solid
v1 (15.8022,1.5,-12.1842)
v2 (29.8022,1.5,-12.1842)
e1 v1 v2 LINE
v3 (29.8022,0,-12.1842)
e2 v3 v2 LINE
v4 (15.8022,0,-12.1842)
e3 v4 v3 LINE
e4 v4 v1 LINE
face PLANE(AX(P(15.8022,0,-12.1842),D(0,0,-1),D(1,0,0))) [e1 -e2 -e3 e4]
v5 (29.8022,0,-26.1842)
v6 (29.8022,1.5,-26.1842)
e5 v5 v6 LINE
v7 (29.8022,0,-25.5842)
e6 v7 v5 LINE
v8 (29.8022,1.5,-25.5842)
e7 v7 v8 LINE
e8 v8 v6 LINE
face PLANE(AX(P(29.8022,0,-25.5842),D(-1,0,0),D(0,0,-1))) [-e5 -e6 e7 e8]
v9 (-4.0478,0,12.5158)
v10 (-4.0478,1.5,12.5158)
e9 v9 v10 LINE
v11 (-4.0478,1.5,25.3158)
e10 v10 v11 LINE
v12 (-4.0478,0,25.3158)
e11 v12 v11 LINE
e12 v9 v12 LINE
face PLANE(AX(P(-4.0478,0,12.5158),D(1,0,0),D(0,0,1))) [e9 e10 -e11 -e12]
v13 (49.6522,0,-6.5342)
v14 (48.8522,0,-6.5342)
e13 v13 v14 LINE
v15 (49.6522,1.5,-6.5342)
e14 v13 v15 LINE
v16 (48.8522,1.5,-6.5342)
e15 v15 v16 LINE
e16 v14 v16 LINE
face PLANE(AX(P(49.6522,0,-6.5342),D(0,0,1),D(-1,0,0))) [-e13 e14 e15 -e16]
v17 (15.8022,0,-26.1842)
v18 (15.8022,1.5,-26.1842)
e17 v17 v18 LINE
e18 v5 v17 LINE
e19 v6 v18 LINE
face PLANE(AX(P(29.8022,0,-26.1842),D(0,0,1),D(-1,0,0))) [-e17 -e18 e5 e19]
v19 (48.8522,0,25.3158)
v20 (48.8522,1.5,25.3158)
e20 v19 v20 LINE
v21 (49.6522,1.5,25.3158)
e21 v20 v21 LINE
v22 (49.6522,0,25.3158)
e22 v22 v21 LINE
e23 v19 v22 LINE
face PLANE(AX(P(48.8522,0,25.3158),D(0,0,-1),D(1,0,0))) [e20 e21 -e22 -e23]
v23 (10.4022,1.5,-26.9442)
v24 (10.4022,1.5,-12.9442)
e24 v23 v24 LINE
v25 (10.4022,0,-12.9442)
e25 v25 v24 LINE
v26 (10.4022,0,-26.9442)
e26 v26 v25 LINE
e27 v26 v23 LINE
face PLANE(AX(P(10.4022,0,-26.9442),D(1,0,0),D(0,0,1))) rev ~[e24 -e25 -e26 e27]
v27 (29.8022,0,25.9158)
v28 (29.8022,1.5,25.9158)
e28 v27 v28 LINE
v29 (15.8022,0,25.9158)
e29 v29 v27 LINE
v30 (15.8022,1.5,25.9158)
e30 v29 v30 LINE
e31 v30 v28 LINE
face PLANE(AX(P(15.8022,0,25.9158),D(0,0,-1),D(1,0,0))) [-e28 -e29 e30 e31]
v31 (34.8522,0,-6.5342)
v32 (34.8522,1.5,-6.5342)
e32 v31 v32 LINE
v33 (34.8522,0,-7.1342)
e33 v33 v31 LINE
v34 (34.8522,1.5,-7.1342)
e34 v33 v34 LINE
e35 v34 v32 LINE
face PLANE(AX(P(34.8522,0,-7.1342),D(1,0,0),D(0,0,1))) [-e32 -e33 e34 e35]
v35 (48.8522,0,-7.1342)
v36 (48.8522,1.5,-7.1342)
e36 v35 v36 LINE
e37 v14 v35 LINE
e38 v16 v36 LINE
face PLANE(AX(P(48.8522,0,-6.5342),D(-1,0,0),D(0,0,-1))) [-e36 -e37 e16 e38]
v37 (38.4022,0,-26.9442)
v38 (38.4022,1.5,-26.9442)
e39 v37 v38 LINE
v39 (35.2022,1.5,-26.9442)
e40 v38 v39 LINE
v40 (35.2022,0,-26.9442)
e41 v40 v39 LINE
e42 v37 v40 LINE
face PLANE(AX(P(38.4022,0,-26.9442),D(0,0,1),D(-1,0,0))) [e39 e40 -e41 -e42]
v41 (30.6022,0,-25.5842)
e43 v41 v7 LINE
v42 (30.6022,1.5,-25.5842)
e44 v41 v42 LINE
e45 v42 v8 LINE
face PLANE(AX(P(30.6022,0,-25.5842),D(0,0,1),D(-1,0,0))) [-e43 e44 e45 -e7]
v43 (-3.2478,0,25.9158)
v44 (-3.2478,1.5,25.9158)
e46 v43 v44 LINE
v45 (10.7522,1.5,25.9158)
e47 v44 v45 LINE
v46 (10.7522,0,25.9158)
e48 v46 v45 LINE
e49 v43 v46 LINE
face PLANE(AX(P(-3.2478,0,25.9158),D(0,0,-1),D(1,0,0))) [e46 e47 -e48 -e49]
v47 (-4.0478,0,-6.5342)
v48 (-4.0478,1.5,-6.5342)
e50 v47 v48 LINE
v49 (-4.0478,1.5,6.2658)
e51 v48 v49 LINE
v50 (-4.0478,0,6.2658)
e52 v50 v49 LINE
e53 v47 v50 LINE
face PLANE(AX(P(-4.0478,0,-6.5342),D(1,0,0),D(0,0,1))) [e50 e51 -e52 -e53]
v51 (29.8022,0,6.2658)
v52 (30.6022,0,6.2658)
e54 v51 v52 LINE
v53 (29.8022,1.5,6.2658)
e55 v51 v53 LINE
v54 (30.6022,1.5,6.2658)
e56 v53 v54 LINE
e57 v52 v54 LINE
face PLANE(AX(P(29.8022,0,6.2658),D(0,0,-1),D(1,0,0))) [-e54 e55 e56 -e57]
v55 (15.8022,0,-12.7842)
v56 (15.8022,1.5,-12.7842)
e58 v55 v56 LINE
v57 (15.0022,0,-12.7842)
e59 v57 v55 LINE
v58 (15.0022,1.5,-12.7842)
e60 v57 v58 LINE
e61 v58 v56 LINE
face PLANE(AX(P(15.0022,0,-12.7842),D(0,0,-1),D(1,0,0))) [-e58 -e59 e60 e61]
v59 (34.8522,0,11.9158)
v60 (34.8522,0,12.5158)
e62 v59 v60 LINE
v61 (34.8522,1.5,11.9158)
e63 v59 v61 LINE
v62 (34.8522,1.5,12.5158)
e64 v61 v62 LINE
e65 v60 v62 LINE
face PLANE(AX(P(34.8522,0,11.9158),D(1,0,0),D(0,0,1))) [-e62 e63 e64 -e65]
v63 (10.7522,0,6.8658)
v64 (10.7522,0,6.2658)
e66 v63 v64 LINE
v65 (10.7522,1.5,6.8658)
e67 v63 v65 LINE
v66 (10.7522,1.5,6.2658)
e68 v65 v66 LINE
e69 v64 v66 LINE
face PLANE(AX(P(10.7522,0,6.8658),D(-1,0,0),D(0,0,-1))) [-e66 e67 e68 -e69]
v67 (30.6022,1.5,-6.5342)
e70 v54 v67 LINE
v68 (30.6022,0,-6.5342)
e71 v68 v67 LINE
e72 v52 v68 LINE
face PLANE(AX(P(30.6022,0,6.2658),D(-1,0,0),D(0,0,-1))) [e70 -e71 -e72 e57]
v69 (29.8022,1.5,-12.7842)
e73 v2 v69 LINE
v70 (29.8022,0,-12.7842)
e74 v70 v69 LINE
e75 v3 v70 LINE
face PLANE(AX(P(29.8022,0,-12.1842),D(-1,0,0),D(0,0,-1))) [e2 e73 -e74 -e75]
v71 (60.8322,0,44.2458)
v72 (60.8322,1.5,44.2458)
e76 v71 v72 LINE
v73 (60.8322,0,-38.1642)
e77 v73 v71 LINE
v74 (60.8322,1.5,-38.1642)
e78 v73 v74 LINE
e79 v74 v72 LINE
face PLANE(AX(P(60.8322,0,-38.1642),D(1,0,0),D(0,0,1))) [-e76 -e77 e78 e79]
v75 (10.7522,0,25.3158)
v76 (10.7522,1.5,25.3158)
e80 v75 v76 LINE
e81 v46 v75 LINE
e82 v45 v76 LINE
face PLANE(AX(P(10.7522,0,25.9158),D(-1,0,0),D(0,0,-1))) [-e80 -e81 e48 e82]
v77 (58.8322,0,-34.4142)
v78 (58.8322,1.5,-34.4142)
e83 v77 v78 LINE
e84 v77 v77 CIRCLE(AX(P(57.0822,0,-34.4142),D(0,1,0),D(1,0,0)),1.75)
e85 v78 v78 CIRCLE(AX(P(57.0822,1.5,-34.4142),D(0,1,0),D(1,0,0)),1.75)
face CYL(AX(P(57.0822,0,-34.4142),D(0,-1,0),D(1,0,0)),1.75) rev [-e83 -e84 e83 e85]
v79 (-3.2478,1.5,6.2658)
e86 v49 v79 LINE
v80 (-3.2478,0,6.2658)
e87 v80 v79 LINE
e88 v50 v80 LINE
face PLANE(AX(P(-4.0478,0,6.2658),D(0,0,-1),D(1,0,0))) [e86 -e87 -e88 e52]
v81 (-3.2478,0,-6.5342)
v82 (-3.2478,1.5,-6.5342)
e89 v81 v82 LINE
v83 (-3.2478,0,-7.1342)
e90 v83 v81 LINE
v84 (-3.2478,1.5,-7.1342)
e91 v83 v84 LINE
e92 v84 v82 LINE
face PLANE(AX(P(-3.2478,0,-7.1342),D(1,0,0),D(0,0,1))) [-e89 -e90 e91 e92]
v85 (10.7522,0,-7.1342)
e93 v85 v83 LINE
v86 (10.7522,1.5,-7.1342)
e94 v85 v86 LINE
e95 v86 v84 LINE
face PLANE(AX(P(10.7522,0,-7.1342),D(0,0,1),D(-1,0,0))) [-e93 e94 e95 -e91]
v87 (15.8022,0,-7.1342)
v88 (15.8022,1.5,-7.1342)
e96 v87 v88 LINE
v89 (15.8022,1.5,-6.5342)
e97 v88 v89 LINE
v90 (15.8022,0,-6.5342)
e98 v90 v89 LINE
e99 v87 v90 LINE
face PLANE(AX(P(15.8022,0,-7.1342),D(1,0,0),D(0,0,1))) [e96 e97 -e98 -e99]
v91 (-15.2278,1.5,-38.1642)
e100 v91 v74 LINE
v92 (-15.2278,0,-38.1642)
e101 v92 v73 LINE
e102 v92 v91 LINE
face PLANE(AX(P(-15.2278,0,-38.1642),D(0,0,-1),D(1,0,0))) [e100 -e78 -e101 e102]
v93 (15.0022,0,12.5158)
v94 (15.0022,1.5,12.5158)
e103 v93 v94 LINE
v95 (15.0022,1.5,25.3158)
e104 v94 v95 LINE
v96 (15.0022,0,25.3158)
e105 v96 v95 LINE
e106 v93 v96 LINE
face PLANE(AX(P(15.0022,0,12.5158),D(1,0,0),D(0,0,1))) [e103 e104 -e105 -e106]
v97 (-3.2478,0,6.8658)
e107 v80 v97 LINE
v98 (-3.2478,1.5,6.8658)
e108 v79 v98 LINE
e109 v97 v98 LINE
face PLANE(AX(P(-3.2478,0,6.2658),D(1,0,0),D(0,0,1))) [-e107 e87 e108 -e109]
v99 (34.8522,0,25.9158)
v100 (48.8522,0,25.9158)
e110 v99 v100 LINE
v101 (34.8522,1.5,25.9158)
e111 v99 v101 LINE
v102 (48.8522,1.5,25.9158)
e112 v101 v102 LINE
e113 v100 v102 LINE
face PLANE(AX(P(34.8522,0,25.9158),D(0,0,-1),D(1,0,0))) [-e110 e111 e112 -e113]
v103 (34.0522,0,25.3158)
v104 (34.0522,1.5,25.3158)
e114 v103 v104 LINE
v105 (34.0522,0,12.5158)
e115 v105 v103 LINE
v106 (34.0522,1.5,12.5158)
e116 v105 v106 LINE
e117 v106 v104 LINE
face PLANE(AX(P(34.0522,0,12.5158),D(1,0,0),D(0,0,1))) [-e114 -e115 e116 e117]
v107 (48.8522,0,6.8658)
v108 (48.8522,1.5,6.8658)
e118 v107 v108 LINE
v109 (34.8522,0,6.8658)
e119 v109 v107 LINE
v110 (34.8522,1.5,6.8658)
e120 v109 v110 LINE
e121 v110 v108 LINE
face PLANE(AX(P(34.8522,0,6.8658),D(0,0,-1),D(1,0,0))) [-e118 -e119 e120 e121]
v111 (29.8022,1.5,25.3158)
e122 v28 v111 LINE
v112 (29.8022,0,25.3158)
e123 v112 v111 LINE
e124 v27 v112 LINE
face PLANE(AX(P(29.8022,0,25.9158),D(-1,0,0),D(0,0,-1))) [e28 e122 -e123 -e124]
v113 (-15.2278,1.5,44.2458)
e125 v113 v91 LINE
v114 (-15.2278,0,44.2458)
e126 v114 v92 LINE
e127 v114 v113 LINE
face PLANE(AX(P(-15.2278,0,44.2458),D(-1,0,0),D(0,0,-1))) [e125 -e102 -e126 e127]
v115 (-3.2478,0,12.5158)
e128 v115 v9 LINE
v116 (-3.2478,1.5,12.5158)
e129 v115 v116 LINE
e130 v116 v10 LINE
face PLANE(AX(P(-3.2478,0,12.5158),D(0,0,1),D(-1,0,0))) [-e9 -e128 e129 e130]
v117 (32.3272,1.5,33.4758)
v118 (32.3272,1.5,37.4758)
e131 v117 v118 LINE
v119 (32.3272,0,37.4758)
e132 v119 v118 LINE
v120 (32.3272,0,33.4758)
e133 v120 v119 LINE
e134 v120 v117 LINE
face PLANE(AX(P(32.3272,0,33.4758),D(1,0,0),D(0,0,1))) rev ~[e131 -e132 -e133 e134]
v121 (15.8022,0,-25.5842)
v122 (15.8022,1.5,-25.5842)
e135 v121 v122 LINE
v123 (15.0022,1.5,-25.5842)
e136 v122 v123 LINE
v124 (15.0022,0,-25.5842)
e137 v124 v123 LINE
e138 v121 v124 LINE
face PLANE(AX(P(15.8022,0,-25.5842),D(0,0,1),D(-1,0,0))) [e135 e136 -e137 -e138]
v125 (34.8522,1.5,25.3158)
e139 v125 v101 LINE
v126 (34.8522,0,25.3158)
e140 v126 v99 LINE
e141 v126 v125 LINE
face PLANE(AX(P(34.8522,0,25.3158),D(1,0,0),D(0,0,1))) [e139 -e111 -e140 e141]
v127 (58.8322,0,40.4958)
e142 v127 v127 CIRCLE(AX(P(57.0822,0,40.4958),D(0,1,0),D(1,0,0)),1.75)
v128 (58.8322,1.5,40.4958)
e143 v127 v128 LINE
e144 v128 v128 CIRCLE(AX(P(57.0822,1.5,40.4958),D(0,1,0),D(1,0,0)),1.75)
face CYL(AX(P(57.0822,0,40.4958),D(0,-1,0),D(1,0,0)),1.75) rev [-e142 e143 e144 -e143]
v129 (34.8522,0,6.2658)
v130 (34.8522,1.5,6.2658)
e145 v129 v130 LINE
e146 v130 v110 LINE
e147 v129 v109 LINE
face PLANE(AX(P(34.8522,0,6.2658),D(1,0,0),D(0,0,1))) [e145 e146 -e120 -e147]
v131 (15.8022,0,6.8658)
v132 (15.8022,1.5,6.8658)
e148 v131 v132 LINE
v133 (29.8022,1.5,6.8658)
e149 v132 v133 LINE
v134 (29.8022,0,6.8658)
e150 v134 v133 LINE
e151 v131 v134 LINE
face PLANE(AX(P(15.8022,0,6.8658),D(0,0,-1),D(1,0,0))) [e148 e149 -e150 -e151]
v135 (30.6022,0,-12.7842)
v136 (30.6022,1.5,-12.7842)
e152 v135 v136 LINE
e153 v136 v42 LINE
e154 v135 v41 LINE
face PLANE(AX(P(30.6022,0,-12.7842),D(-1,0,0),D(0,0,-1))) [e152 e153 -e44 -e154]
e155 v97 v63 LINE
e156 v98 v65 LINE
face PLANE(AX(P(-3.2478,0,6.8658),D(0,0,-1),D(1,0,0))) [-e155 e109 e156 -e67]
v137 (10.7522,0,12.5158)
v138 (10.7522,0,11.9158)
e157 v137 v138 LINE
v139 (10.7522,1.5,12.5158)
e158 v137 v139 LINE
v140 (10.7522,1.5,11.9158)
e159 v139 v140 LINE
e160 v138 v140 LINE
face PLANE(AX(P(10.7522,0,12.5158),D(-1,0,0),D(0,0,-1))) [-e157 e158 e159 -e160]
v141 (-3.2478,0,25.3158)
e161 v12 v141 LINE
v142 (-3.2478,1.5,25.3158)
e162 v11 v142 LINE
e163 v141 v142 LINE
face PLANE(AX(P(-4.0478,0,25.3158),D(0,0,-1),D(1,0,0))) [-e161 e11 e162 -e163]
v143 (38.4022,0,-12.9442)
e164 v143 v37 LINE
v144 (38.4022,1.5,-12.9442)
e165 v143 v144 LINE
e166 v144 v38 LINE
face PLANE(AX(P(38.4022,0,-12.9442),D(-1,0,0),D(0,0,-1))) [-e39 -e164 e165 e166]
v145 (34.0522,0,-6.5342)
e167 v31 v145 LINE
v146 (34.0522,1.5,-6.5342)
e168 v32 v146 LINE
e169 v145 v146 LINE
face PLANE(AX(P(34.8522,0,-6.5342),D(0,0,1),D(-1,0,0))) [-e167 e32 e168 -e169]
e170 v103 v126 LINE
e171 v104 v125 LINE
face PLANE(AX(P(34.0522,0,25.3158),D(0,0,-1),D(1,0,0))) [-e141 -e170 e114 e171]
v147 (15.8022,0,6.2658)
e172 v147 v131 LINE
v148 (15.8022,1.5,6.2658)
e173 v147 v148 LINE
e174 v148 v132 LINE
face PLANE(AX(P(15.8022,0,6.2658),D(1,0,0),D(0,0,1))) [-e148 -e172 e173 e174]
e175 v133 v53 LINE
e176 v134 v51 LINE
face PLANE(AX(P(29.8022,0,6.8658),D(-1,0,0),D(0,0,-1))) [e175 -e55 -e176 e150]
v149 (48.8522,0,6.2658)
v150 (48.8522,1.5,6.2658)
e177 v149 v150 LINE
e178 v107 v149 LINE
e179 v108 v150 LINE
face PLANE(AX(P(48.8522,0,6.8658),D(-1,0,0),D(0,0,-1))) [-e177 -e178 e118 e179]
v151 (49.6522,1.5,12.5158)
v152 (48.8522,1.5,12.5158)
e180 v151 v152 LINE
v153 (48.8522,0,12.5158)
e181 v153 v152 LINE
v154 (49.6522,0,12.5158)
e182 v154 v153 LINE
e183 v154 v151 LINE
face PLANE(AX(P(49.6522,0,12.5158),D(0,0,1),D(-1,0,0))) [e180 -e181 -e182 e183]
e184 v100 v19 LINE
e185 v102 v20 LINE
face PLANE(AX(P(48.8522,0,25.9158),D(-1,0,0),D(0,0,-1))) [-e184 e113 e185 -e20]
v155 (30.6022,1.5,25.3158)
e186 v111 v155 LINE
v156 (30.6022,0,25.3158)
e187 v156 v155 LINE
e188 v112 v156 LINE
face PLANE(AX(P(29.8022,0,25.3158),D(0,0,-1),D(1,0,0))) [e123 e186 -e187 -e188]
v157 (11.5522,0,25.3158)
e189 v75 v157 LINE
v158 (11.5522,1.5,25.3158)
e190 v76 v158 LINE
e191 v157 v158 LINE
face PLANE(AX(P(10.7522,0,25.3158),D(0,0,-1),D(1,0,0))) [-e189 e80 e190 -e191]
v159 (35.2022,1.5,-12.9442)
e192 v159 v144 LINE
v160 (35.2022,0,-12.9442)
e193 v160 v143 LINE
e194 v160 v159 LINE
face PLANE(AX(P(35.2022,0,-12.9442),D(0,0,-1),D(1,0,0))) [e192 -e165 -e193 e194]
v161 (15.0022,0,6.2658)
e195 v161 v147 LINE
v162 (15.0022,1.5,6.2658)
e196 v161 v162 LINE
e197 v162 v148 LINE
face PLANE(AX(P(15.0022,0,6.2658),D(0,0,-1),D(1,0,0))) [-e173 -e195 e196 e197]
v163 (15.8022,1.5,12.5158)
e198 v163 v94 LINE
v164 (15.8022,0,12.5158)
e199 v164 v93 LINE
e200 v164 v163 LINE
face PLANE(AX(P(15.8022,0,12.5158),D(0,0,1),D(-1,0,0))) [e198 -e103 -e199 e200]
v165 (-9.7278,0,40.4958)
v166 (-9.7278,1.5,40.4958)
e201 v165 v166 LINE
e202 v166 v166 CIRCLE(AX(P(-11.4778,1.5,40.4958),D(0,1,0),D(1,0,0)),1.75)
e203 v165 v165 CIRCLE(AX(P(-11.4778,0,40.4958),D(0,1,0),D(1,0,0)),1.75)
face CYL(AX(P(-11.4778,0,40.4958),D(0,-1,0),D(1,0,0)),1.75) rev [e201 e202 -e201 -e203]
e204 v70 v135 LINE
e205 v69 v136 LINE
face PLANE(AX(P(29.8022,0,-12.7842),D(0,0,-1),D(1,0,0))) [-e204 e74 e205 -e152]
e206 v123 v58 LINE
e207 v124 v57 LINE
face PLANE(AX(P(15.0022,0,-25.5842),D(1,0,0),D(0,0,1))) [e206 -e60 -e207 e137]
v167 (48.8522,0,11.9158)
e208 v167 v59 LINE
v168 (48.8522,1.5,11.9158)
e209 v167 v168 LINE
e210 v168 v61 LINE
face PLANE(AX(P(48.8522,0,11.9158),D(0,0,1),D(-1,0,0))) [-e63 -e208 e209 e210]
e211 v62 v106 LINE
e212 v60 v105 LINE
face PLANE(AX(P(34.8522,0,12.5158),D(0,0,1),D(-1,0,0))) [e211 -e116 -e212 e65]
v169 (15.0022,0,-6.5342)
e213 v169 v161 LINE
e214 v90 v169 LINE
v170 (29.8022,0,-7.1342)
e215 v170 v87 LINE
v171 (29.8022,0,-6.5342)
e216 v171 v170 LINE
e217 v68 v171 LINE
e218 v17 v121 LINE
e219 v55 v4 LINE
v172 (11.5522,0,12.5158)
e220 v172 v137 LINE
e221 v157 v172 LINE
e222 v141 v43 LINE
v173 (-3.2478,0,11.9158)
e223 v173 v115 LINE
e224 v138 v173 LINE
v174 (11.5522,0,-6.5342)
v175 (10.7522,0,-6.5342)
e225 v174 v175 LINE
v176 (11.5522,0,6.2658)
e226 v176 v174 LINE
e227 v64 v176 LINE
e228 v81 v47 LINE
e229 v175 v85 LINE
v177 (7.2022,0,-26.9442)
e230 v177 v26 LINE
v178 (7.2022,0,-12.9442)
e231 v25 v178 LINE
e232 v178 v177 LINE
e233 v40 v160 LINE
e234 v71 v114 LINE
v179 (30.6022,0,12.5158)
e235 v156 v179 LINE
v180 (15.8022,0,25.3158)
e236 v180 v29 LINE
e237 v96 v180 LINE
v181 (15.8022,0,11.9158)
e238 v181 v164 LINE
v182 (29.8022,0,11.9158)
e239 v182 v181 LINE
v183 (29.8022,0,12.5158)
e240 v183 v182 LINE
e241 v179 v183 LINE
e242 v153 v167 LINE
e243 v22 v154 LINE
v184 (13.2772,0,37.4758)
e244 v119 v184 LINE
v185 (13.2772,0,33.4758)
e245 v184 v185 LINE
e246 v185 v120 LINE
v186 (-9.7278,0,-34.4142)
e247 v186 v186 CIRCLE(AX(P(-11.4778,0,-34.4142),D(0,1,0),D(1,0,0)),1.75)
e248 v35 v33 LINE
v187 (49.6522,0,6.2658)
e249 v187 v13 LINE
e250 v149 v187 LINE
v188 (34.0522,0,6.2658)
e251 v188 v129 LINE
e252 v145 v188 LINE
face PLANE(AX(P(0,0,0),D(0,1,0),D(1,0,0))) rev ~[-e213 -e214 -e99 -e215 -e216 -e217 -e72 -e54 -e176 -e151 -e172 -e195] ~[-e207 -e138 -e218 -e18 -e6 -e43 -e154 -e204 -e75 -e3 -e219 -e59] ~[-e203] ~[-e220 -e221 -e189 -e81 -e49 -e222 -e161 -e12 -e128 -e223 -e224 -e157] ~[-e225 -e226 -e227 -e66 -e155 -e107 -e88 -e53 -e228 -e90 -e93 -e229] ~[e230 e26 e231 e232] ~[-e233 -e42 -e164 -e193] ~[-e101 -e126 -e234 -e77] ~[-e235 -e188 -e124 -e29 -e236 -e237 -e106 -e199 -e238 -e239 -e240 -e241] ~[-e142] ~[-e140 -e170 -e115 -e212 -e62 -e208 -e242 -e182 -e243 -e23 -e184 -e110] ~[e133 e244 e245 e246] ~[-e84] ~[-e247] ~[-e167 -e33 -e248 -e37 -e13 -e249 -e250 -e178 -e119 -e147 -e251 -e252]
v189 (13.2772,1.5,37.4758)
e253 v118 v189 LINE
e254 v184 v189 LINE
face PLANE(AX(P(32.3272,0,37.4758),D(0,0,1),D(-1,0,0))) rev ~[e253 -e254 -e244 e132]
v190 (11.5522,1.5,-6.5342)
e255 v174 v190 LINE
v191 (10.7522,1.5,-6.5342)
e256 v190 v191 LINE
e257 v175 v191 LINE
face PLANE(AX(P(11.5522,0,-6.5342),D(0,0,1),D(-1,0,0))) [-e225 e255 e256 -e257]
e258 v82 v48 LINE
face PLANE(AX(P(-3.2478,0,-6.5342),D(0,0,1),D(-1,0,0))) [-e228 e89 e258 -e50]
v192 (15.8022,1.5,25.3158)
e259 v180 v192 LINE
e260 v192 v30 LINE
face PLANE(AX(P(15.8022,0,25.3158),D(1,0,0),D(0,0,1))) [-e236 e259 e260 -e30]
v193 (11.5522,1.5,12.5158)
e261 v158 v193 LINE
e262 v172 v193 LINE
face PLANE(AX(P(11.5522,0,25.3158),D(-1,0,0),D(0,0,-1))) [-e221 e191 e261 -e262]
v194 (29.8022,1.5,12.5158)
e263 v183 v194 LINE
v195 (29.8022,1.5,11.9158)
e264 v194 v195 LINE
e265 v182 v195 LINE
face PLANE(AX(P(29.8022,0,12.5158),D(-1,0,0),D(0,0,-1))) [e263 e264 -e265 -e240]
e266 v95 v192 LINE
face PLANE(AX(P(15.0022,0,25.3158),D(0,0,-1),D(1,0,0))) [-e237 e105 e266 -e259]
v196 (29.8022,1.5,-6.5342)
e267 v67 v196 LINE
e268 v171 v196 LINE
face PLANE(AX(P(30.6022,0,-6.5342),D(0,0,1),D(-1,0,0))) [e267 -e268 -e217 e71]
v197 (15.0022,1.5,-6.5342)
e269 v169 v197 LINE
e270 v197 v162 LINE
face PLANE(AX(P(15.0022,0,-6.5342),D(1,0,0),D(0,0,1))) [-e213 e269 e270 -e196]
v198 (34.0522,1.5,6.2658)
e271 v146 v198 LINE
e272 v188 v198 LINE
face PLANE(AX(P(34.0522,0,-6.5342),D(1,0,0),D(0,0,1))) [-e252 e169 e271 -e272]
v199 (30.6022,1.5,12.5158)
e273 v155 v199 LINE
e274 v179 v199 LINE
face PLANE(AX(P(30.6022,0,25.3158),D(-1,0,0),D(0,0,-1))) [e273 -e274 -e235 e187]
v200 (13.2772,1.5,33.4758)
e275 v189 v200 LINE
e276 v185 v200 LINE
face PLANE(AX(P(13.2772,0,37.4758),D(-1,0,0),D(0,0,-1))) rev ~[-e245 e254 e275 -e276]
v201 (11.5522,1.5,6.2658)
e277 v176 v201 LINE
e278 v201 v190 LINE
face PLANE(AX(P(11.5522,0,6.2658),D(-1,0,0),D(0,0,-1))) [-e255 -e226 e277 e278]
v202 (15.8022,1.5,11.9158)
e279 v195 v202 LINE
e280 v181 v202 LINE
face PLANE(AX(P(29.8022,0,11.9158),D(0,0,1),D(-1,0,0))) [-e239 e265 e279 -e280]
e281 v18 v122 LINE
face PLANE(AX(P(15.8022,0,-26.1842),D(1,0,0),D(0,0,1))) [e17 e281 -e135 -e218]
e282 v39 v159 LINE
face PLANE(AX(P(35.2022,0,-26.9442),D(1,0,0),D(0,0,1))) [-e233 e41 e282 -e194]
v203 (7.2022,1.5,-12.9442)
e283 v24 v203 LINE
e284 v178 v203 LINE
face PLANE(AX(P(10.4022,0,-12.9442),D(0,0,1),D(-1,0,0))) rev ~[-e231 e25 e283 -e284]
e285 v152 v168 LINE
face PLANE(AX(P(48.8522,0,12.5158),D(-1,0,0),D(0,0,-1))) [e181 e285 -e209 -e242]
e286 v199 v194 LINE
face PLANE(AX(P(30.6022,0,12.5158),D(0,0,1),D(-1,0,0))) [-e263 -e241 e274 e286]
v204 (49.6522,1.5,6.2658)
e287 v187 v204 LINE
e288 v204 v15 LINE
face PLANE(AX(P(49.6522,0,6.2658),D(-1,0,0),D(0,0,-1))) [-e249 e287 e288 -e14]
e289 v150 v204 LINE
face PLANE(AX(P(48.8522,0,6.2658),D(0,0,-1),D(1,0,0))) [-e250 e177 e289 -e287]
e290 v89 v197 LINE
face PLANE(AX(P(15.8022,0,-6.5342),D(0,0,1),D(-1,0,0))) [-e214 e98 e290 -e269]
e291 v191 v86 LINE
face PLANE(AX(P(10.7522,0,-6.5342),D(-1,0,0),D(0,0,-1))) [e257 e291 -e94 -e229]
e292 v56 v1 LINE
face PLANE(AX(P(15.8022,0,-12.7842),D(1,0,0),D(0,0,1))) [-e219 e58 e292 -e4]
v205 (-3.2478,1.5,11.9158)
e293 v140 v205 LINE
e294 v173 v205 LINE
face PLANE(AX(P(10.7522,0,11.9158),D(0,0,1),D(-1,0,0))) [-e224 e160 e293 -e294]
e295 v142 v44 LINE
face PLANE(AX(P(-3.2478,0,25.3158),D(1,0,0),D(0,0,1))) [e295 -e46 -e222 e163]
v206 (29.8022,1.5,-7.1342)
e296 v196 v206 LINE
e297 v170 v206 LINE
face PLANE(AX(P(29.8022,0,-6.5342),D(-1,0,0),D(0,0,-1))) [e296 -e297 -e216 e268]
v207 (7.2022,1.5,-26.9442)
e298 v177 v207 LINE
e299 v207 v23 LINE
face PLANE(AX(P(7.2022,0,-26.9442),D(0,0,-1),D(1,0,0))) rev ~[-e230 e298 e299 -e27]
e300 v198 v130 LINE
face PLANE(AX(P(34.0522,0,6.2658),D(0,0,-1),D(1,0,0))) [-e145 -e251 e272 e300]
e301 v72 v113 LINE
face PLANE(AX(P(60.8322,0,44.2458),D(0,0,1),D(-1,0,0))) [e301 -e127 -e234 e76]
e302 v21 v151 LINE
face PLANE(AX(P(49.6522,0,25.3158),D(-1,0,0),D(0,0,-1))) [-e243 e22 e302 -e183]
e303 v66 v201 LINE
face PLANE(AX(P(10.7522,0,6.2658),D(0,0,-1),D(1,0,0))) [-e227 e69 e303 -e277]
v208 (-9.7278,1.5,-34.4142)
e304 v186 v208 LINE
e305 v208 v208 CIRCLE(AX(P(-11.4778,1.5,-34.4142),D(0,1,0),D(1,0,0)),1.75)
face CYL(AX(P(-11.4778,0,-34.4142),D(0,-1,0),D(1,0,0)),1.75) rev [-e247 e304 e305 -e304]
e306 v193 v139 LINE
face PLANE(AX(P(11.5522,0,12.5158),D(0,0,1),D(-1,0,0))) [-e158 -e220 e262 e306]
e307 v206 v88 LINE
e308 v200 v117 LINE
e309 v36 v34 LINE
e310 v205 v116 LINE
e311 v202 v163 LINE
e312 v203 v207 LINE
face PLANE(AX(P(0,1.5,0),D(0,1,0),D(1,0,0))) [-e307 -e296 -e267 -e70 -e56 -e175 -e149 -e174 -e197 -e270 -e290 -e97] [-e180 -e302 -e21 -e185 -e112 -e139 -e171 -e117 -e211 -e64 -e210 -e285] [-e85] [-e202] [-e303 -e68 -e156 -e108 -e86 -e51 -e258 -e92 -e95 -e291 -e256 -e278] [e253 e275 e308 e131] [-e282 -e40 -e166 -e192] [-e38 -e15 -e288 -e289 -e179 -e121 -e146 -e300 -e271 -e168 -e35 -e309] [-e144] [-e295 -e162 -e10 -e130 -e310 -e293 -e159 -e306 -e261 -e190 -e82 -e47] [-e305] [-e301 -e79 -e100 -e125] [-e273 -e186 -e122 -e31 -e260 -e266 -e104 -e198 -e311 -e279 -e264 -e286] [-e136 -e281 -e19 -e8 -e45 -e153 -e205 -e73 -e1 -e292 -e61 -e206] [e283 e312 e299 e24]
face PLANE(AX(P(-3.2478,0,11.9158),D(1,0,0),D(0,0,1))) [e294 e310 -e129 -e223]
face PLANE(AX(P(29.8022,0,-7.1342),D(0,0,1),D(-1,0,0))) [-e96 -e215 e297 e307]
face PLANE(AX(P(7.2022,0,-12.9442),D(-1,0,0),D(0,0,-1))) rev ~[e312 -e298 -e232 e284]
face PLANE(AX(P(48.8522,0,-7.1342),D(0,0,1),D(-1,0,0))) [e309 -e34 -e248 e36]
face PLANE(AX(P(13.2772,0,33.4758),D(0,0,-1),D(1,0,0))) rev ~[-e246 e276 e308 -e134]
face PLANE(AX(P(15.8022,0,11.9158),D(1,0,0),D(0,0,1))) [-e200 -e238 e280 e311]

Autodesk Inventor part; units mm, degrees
ref_plane "YZ Plane" through (0, 0, 0) normal (1, 0, 0) x (0, 1, 0)
ref_plane "XZ Plane" through (0, 0, 0) normal (0, 1, 0) x (-1, 0, 0)
ref_plane "XY Plane" through (0, 0, 0) normal (0, 0, 1) x (1, 0, 0)
sketch "1u" plane through (0, 0, 0) normal (0, 1, 0) x (-1, 0, 0)
  line L0 (7, 7) -> (-7, 7)
  line L1 (-7, 7) -> (-7, 6.4)
  line L2 (-7, 6.4) -> (-7.8, 6.4)
  line L3 (-7.8, 6.4) -> (-7.8, -6.4)
  line L4 (-7.8, -6.4) -> (-7, -6.4)
  line L5 (-7, -6.4) -> (-7, -7)
  line L6 (-7, -7) -> (7, -7)
  line L7 (7, -7) -> (7, -6.4)
  line L8 (7, -6.4) -> (7.8, -6.4)
  line L9 (7.8, -6.4) -> (7.8, 6.4)
  line L10 (7.8, 6.4) -> (7, 6.4)
  line L11 (7, 6.4) -> (7, 7)
  line L12 (9.525, -9.525) -> (9.525, 9.525) construction
  line L13 (9.525, 9.525) -> (-9.525, 9.525) construction
  line L14 (-9.525, 9.525) -> (-9.525, -9.525) construction
  line L15 (-9.525, -9.525) -> (9.525, -9.525) construction
  line L16 (9.525, 0) -> (7.8, 0) construction
  line L17 (-7.8, 0) -> (-9.525, 0) construction
  line L18 (0, 7) -> (0, 9.525) construction
  line L19 (0, -7) -> (0, -9.525) construction
  dimension "d0" = 12.8
  dimension "d1" = 14
  dimension "d2" = 14
  dimension "d3" = 15.6
  dimension "d4" = 19.05
  dimension "d5" = 19.05
sketch "1.25u" plane through (0, 0, 0) normal (0, 1, 0) x (-1, 0, 0)
  line L0 (7, 7) -> (-7, 7)
  line L1 (-7, 7) -> (-7, 6.4)
  line L2 (-7, 6.4) -> (-7.8, 6.4)
  line L3 (-7.8, 6.4) -> (-7.8, -6.4)
  line L4 (-7.8, -6.4) -> (-7, -6.4)
  line L5 (-7, -6.4) -> (-7, -7)
  line L6 (-7, -7) -> (7, -7)
  line L7 (7, -7) -> (7, -6.4)
  line L8 (7, -6.4) -> (7.8, -6.4)
  line L9 (7.8, -6.4) -> (7.8, 6.4)
  line L10 (7.8, 6.4) -> (7, 6.4)
  line L11 (7, 6.4) -> (7, 7)
  line L12 (11.9063, -9.525) -> (11.9063, 9.525) construction
  line L13 (11.9063, 9.525) -> (-11.9062, 9.525) construction
  line L14 (-11.9062, 9.525) -> (-11.9062, -9.525) construction
  line L15 (-11.9062, -9.525) -> (11.9063, -9.525) construction
  line L16 (11.9062, 0) -> (7.8, 0) construction
  line L17 (-7.8, 0) -> (-11.9062, 0) construction
  line L18 (0, 7) -> (0, 9.525) construction
  line L19 (0, -7) -> (0, -9.525) construction
  dimension "d45" = 12.8
  dimension "d46" = 14
  dimension "d47" = 14
  dimension "d48" = 15.6
  dimension "d49" = 23.8125
  dimension "d50" = 19.05
sketch "1.5u" plane through (0, 0, 0) normal (0, 1, 0) x (-1, 0, 0)
  line L0 (7, 7) -> (-7, 7)
  line L1 (-7, 7) -> (-7, 6.4)
  line L2 (-7, 6.4) -> (-7.8, 6.4)
  line L3 (-7.8, 6.4) -> (-7.8, -6.4)
  line L4 (-7.8, -6.4) -> (-7, -6.4)
  line L5 (-7, -6.4) -> (-7, -7)
  line L6 (-7, -7) -> (7, -7)
  line L7 (7, -7) -> (7, -6.4)
  line L8 (7, -6.4) -> (7.8, -6.4)
  line L9 (7.8, -6.4) -> (7.8, 6.4)
  line L10 (7.8, 6.4) -> (7, 6.4)
  line L11 (7, 6.4) -> (7, 7)
  line L12 (14.2875, -9.525) -> (14.2875, 9.525) construction
  line L13 (14.2875, 9.525) -> (-14.2875, 9.525) construction
  line L14 (-14.2875, 9.525) -> (-14.2875, -9.525) construction
  line L15 (-14.2875, -9.525) -> (14.2875, -9.525) construction
  line L16 (14.2875, 0) -> (7.8, 0) construction
  line L17 (-7.8, 0) -> (-14.2875, 0) construction
  line L18 (0, 7) -> (0, 9.525) construction
  line L19 (0, -7) -> (0, -9.525) construction
  dimension "d39" = 12.8
  dimension "d40" = 14
  dimension "d41" = 14
  dimension "d42" = 15.6
  dimension "d43" = 28.575
  dimension "d44" = 19.05
sketch "2u" plane through (0, 0, 0) normal (0, 1, 0) x (-1, 0, 0)
  line L0 (7, -7) -> (7, -6.4)
  line L1 (7, -6.4) -> (7.8, -6.4)
  line L2 (19.05, 0) -> (7.8, 0) construction
  line L3 (19.05, -9.525) -> (19.05, 9.525) construction
  line L4 (7.8, -6.4) -> (7.8, 6.4)
  line L5 (0, -7) -> (0, -9.525) construction
  line L6 (-7, -6.4) -> (-7, -7)
  line L7 (-7.8, 0) -> (-19.05, 0) construction
  line L8 (-7.8, -6.4) -> (-7, -6.4)
  line L9 (0, 7) -> (0, 9.525) construction
  line L10 (7, 7) -> (-7, 7)
  line L11 (-7, -7) -> (7, -7)
  line L12 (-19.05, -9.525) -> (19.05, -9.525) construction
  line L13 (19.05, 9.525) -> (-19.05, 9.525) construction
  line L14 (-19.05, 9.525) -> (-19.05, -9.525) construction
  line L15 (-7, 7) -> (-7, 6.4)
  line L16 (-7, 6.4) -> (-7.8, 6.4)
  line L17 (-7.8, 6.4) -> (-7.8, -6.4)
  line L18 (7, 6.4) -> (7, 7)
  line L19 (7.8, 6.4) -> (7, 6.4)
  line L20 (15.6, -6.24) -> (15.6, 7.76)
  line L21 (15.6, 7.76) -> (12.4, 7.76)
  line L22 (12.4, 7.76) -> (12.4, -6.24)
  line L23 (12.4, -6.24) -> (15.6, -6.24)
  line L24 (14, -6.24) -> (14, 7.76) construction
  line L25 (15.6, 0.76) -> (12.4, 0.76) construction
  line L26 (-12.4, 7.76) -> (-12.4, -6.24)
  line L27 (-12.4, -6.24) -> (-15.6, -6.24)
  line L28 (-15.6, -6.24) -> (-15.6, 7.76)
  line L29 (-15.6, 7.76) -> (-12.4, 7.76)
  line L30 (-14, -6.24) -> (-14, 7.76) construction
  line L31 (-15.6, 0.76) -> (-12.4, 0.76) construction
  dimension "d28" = 12.8
  dimension "d29" = 14
  dimension "d30" = 14
  dimension "d31" = 15.6
  dimension "d32" = 38.1
  dimension "d33" = 19.05
  dimension "d34" = 3.2
  dimension "d35" = 14
  dimension "d36" = 14
  dimension "d37" = 0.76
sketch "Sketch11" plane through (0, 0, 0) normal (0, 1, 0) x (1, 0, 0)
  line L0 (10.7522, 7.1342) -> (-3.2478, 7.1342)
  line L1 (-3.2478, 7.1342) -> (-3.2478, 6.5342)
  line L2 (-3.2478, 6.5342) -> (-4.0478, 6.5342)
  line L3 (-4.0478, 6.5342) -> (-4.0478, -6.2658)
  line L4 (-4.0478, -6.2658) -> (-3.2478, -6.2658)
  line L5 (-3.2478, -6.2658) -> (-3.2478, -6.8658)
  line L6 (-3.2478, -6.8658) -> (10.7522, -6.8658)
  line L7 (10.7522, -6.8658) -> (10.7522, -6.2658)
  line L8 (10.7522, -6.2658) -> (11.5522, -6.2658)
  line L9 (11.5522, -6.2658) -> (11.5522, 6.5342)
  line L10 (11.5522, 6.5342) -> (10.7522, 6.5342)
  line L11 (10.7522, 6.5342) -> (10.7522, 7.1342)
  line L12 (13.2772, -9.3908) -> (13.2772, 9.6592) construction
  line L13 (13.2772, 9.6592) -> (-5.7728, 9.6592) construction
  line L14 (-5.7728, 9.6592) -> (-5.7728, -9.3908) construction
  line L15 (-5.7728, -9.3908) -> (13.2772, -9.3908) construction
  line L16 (13.2772, 0.1342) -> (11.5522, 0.1342) construction
  line L17 (-4.0478, 0.1342) -> (-5.7728, 0.1342) construction
  line L18 (3.7522, 7.1342) -> (3.7522, 9.6592) construction
  line L19 (3.7522, -6.8658) -> (3.7522, -9.3908) construction
  line L20 (29.8022, 7.1342) -> (15.8022, 7.1342)
  line L21 (15.8022, 7.1342) -> (15.8022, 6.5342)
  line L22 (15.8022, 6.5342) -> (15.0022, 6.5342)
  line L23 (15.0022, 6.5342) -> (15.0022, -6.2658)
  line L24 (15.0022, -6.2658) -> (15.8022, -6.2658)
  line L25 (15.8022, -6.2658) -> (15.8022, -6.8658)
  line L26 (15.8022, -6.8658) -> (29.8022, -6.8658)
  line L27 (29.8022, -6.8658) -> (29.8022, -6.2658)
  line L28 (29.8022, -6.2658) -> (30.6022, -6.2658)
  line L29 (30.6022, -6.2658) -> (30.6022, 6.5342)
  line L30 (30.6022, 6.5342) -> (29.8022, 6.5342)
  line L31 (29.8022, 6.5342) -> (29.8022, 7.1342)
  line L32 (32.3272, -9.3908) -> (32.3272, 9.6592) construction
  line L33 (32.3272, 9.6592) -> (13.2772, 9.6592) construction
  line L34 (13.2772, 9.6592) -> (13.2772, -9.3908) construction
  line L35 (13.2772, -9.3908) -> (32.3272, -9.3908) construction
  line L36 (32.3272, 0.1342) -> (30.6022, 0.1342) construction
  line L37 (15.0022, 0.1342) -> (13.2772, 0.1342) construction
  line L38 (22.8022, 7.1342) -> (22.8022, 9.6592) construction
  line L39 (22.8022, -6.8658) -> (22.8022, -9.3908) construction
  line L40 (48.8522, 7.1342) -> (34.8522, 7.1342)
  line L41 (34.8522, 7.1342) -> (34.8522, 6.5342)
  line L42 (34.8522, 6.5342) -> (34.0522, 6.5342)
  line L43 (34.0522, 6.5342) -> (34.0522, -6.2658)
  line L44 (34.0522, -6.2658) -> (34.8522, -6.2658)
  line L45 (34.8522, -6.2658) -> (34.8522, -6.8658)
  line L46 (34.8522, -6.8658) -> (48.8522, -6.8658)
  line L47 (48.8522, -6.8658) -> (48.8522, -6.2658)
  line L48 (48.8522, -6.2658) -> (49.6522, -6.2658)
  line L49 (49.6522, -6.2658) -> (49.6522, 6.5342)
  line L50 (49.6522, 6.5342) -> (48.8522, 6.5342)
  line L51 (48.8522, 6.5342) -> (48.8522, 7.1342)
  line L52 (51.3772, -9.3908) -> (51.3772, 9.6592) construction
  line L53 (51.3772, 9.6592) -> (32.3272, 9.6592) construction
  line L54 (32.3272, 9.6592) -> (32.3272, -9.3908) construction
  line L55 (32.3272, -9.3908) -> (51.3772, -9.3908) construction
  line L56 (51.3772, 0.1342) -> (49.6522, 0.1342) construction
  line L57 (34.0522, 0.1342) -> (32.3272, 0.1342) construction
  line L58 (41.8522, 7.1342) -> (41.8522, 9.6592) construction
  line L59 (41.8522, -6.8658) -> (41.8522, -9.3908) construction
  line L60 (10.7522, -11.9158) -> (-3.2478, -11.9158)
  line L61 (-3.2478, -11.9158) -> (-3.2478, -12.5158)
  line L62 (-3.2478, -12.5158) -> (-4.0478, -12.5158)
  line L63 (-4.0478, -12.5158) -> (-4.0478, -25.3158)
  line L64 (-4.0478, -25.3158) -> (-3.2478, -25.3158)
  line L65 (-3.2478, -25.3158) -> (-3.2478, -25.9158)
  line L66 (-3.2478, -25.9158) -> (10.7522, -25.9158)
  line L67 (10.7522, -25.9158) -> (10.7522, -25.3158)
  line L68 (10.7522, -25.3158) -> (11.5522, -25.3158)
  line L69 (11.5522, -25.3158) -> (11.5522, -12.5158)
  line L70 (11.5522, -12.5158) -> (10.7522, -12.5158)
  line L71 (10.7522, -12.5158) -> (10.7522, -11.9158)
  line L72 (13.2772, -28.4408) -> (13.2772, -9.3908) construction
  line L73 (13.2772, -9.3908) -> (-5.7728, -9.3908) construction
  line L74 (-5.7728, -9.3908) -> (-5.7728, -28.4408) construction
  line L75 (-5.7728, -28.4408) -> (13.2772, -28.4408) construction
  line L76 (13.2772, -18.9158) -> (11.5522, -18.9158) construction
  line L77 (-4.0478, -18.9158) -> (-5.7728, -18.9158) construction
  line L78 (3.7522, -11.9158) -> (3.7522, -9.3908) construction
  line L79 (3.7522, -25.9158) -> (3.7522, -28.4408) construction
  line L80 (29.8022, -11.9158) -> (15.8022, -11.9158)
  line L81 (15.8022, -11.9158) -> (15.8022, -12.5158)
  line L82 (15.8022, -12.5158) -> (15.0022, -12.5158)
  line L83 (15.0022, -12.5158) -> (15.0022, -25.3158)
  line L84 (15.0022, -25.3158) -> (15.8022, -25.3158)
  line L85 (15.8022, -25.3158) -> (15.8022, -25.9158)
  line L86 (15.8022, -25.9158) -> (29.8022, -25.9158)
  line L87 (29.8022, -25.9158) -> (29.8022, -25.3158)
  line L88 (29.8022, -25.3158) -> (30.6022, -25.3158)
  line L89 (30.6022, -25.3158) -> (30.6022, -12.5158)
  line L90 (30.6022, -12.5158) -> (29.8022, -12.5158)
  line L91 (29.8022, -12.5158) -> (29.8022, -11.9158)
  line L92 (32.3272, -28.4408) -> (32.3272, -9.3908) construction
  line L93 (32.3272, -9.3908) -> (13.2772, -9.3908) construction
  line L94 (13.2772, -9.3908) -> (13.2772, -28.4408) construction
  line L95 (13.2772, -28.4408) -> (32.3272, -28.4408) construction
  line L96 (32.3272, -18.9158) -> (30.6022, -18.9158) construction
  line L97 (15.0022, -18.9158) -> (13.2772, -18.9158) construction
  line L98 (22.8022, -11.9158) -> (22.8022, -9.3908) construction
  line L99 (22.8022, -25.9158) -> (22.8022, -28.4408) construction
  line L100 (48.8522, -11.9158) -> (34.8522, -11.9158)
  line L101 (34.8522, -11.9158) -> (34.8522, -12.5158)
  line L102 (34.8522, -12.5158) -> (34.0522, -12.5158)
  line L103 (34.0522, -12.5158) -> (34.0522, -25.3158)
  line L104 (34.0522, -25.3158) -> (34.8522, -25.3158)
  line L105 (34.8522, -25.3158) -> (34.8522, -25.9158)
  line L106 (34.8522, -25.9158) -> (48.8522, -25.9158)
  line L107 (48.8522, -25.9158) -> (48.8522, -25.3158)
  line L108 (48.8522, -25.3158) -> (49.6522, -25.3158)
  line L109 (49.6522, -25.3158) -> (49.6522, -12.5158)
  line L110 (49.6522, -12.5158) -> (48.8522, -12.5158)
  line L111 (48.8522, -12.5158) -> (48.8522, -11.9158)
  line L112 (51.3772, -28.4408) -> (51.3772, -9.3908) construction
  line L113 (51.3772, -9.3908) -> (32.3272, -9.3908) construction
  line L114 (32.3272, -9.3908) -> (32.3272, -28.4408) construction
  line L115 (32.3272, -28.4408) -> (51.3772, -28.4408) construction
  line L116 (51.3772, -18.9158) -> (49.6522, -18.9158) construction
  line L117 (34.0522, -18.9158) -> (32.3272, -18.9158) construction
  line L118 (41.8522, -11.9158) -> (41.8522, -9.3908) construction
  line L119 (41.8522, -25.9158) -> (41.8522, -28.4408) construction
  line L120 (41.8522, 19.1842) -> (30.6022, 19.1842) construction
  line L121 (30.6022, 12.7842) -> (30.6022, 25.5842)
  line L122 (41.8522, 9.6592) -> (41.8522, 28.7092) construction
  line L123 (29.8022, 12.7842) -> (30.6022, 12.7842)
  line L124 (29.8022, 12.1842) -> (29.8022, 12.7842)
  line L125 (3.7522, 9.6592) -> (41.8522, 9.6592) construction
  line L126 (41.8522, 28.7092) -> (3.7522, 28.7092) construction
  line L127 (22.8022, 26.1842) -> (22.8022, 28.7092) construction
  line L128 (22.8022, 12.1842) -> (22.8022, 9.6592) construction
  line L129 (15.8022, 12.1842) -> (29.8022, 12.1842)
  line L130 (29.8022, 26.1842) -> (15.8022, 26.1842)
  line L131 (15.8022, 12.7842) -> (15.8022, 12.1842)
  line L132 (15.0022, 12.7842) -> (15.8022, 12.7842)
  line L133 (15.0022, 25.5842) -> (15.0022, 12.7842)
  line L134 (15.8022, 26.1842) -> (15.8022, 25.5842)
  line L135 (15.8022, 25.5842) -> (15.0022, 25.5842)
  line L136 (7.2022, 26.9442) -> (10.4022, 26.9442)
  line L137 (29.8022, 25.5842) -> (29.8022, 26.1842)
  line L138 (30.6022, 25.5842) -> (29.8022, 25.5842)
  line L139 (38.4022, 26.9442) -> (35.2022, 26.9442)
  line L140 (35.2022, 26.9442) -> (35.2022, 12.9442)
  line L141 (36.8022, 12.9442) -> (36.8022, 26.9442) construction
  line L142 (38.4022, 12.9442) -> (38.4022, 26.9442)
  line L143 (38.4022, 19.9442) -> (35.2022, 19.9442) construction
  line L144 (35.2022, 12.9442) -> (38.4022, 12.9442)
  line L145 (7.2022, 19.9442) -> (10.4022, 19.9442) construction
  line L146 (10.4022, 26.9442) -> (10.4022, 12.9442)
  line L147 (15.0022, 19.1842) -> (3.7522, 19.1842) construction
  line L148 (8.8022, 12.9442) -> (8.8022, 26.9442) construction
  line L149 (7.2022, 12.9442) -> (7.2022, 26.9442)
  line L150 (3.7522, 28.7092) -> (3.7522, 9.6592) construction
  line L151 (10.4022, 12.9442) -> (7.2022, 12.9442)
  line L152 (-7.7278, 30.6642) -> (53.3322, 30.6642) construction
  line L153 (53.3322, 30.6642) -> (53.3322, -36.7458) construction
  line L154 (53.3322, -36.7458) -> (-7.7278, -36.7458) construction
  line L155 (-7.7278, -36.7458) -> (-7.7278, 30.6642) construction
  line L156 (-7.7278, -3.0408) -> (-5.7728, -3.0408) construction
  line L157 (53.3322, -3.0408) -> (51.3772, -3.0408) construction
  line L158 (22.8022, 30.6642) -> (22.8022, 28.7092) construction
  line L159 (-15.2278, 38.1642) -> (60.8322, 38.1642)
  line L160 (60.8322, 38.1642) -> (60.8322, -44.2458)
  line L161 (60.8322, -44.2458) -> (-15.2278, -44.2458)
  line L162 (-15.2278, -44.2458) -> (-15.2278, 38.1642)
  line L163 (22.8022, 38.1642) -> (22.8022, 30.6642) construction
  line L164 (60.8322, -3.0408) -> (53.3322, -3.0408) construction
  line L165 (-15.2278, -3.0408) -> (-7.7278, -3.0408) construction
  line L166 (22.8022, -44.2458) -> (22.8022, -36.7458) construction
  line L167 (13.2772, -33.4758) -> (32.3272, -33.4758)
  line L168 (32.3272, -33.4758) -> (32.3272, -37.4758)
  line L169 (32.3272, -37.4758) -> (13.2772, -37.4758)
  line L170 (13.2772, -37.4758) -> (13.2772, -33.4758)
  line L171 (13.2772, -35.4758) -> (32.3272, -35.4758) construction
  line L172 (-11.4778, 34.4142) -> (57.0822, 34.4142) construction
  line L173 (57.0822, 34.4142) -> (57.0822, -40.4958) construction
  line L174 (57.0822, -40.4958) -> (-11.4778, -40.4958) construction
  line L175 (-11.4778, -40.4958) -> (-11.4778, 34.4142) construction
  circle A0 centre (-11.4778, 34.4142) radius 1.75
  circle A1 centre (57.0822, 34.4142) radius 1.75
  circle A2 centre (57.0822, -40.4958) radius 1.75
  circle A3 centre (-11.4778, -40.4958) radius 1.75
  line L176 (-7.7278, 38.1642) -> (-7.7278, 34.4142) construction
  line L177 (-7.7278, 30.6642) -> (-7.7278, 34.4142) construction
  line L178 (-7.7278, 30.6642) -> (-11.4778, 30.6642) construction
  line L179 (-11.4778, 30.6642) -> (-15.2278, 30.6642) construction
  line L180 (53.3322, 30.6642) -> (57.0822, 30.6642) construction
  line L181 (57.0822, 30.6642) -> (60.8322, 30.6642) construction
  line L182 (53.3322, -36.7458) -> (53.3322, -40.4958) construction
  line L183 (53.3322, -40.4958) -> (53.3322, -44.2458) construction
  point P0 (0, 0)
  dimension "d298" = 12.8
  dimension "d299" = 14
  dimension "d300" = 14
  dimension "d301" = 15.6
  dimension "d302" = 19.05
  dimension "d303" = 19.05
  dimension "d306" = 19.05
  dimension "d309" = 19.05
  dimension "d312" = 12.8
  dimension "d313" = 14
  dimension "d314" = 14
  dimension "d315" = 15.6
  dimension "d316" = 38.1
  dimension "d317" = 19.05
  dimension "d318" = 3.2
  dimension "d319" = 14
  dimension "d320" = 14
  dimension "d321" = 0.76
  dimension "d323" = 61.06
  dimension "d324" = 67.41
  dimension "d325" = 7.5
  dimension "d326" = 1.27
  dimension "d327" = 4
  dimension "d328" = 3.5
  dimension "d329" = 3.5
  dimension "d330" = 3.5
  dimension "d331" = 3.5
extrude "Extrusion3" add sketch "Sketch11" along normal blind 1.5
properties part number "prototype"
